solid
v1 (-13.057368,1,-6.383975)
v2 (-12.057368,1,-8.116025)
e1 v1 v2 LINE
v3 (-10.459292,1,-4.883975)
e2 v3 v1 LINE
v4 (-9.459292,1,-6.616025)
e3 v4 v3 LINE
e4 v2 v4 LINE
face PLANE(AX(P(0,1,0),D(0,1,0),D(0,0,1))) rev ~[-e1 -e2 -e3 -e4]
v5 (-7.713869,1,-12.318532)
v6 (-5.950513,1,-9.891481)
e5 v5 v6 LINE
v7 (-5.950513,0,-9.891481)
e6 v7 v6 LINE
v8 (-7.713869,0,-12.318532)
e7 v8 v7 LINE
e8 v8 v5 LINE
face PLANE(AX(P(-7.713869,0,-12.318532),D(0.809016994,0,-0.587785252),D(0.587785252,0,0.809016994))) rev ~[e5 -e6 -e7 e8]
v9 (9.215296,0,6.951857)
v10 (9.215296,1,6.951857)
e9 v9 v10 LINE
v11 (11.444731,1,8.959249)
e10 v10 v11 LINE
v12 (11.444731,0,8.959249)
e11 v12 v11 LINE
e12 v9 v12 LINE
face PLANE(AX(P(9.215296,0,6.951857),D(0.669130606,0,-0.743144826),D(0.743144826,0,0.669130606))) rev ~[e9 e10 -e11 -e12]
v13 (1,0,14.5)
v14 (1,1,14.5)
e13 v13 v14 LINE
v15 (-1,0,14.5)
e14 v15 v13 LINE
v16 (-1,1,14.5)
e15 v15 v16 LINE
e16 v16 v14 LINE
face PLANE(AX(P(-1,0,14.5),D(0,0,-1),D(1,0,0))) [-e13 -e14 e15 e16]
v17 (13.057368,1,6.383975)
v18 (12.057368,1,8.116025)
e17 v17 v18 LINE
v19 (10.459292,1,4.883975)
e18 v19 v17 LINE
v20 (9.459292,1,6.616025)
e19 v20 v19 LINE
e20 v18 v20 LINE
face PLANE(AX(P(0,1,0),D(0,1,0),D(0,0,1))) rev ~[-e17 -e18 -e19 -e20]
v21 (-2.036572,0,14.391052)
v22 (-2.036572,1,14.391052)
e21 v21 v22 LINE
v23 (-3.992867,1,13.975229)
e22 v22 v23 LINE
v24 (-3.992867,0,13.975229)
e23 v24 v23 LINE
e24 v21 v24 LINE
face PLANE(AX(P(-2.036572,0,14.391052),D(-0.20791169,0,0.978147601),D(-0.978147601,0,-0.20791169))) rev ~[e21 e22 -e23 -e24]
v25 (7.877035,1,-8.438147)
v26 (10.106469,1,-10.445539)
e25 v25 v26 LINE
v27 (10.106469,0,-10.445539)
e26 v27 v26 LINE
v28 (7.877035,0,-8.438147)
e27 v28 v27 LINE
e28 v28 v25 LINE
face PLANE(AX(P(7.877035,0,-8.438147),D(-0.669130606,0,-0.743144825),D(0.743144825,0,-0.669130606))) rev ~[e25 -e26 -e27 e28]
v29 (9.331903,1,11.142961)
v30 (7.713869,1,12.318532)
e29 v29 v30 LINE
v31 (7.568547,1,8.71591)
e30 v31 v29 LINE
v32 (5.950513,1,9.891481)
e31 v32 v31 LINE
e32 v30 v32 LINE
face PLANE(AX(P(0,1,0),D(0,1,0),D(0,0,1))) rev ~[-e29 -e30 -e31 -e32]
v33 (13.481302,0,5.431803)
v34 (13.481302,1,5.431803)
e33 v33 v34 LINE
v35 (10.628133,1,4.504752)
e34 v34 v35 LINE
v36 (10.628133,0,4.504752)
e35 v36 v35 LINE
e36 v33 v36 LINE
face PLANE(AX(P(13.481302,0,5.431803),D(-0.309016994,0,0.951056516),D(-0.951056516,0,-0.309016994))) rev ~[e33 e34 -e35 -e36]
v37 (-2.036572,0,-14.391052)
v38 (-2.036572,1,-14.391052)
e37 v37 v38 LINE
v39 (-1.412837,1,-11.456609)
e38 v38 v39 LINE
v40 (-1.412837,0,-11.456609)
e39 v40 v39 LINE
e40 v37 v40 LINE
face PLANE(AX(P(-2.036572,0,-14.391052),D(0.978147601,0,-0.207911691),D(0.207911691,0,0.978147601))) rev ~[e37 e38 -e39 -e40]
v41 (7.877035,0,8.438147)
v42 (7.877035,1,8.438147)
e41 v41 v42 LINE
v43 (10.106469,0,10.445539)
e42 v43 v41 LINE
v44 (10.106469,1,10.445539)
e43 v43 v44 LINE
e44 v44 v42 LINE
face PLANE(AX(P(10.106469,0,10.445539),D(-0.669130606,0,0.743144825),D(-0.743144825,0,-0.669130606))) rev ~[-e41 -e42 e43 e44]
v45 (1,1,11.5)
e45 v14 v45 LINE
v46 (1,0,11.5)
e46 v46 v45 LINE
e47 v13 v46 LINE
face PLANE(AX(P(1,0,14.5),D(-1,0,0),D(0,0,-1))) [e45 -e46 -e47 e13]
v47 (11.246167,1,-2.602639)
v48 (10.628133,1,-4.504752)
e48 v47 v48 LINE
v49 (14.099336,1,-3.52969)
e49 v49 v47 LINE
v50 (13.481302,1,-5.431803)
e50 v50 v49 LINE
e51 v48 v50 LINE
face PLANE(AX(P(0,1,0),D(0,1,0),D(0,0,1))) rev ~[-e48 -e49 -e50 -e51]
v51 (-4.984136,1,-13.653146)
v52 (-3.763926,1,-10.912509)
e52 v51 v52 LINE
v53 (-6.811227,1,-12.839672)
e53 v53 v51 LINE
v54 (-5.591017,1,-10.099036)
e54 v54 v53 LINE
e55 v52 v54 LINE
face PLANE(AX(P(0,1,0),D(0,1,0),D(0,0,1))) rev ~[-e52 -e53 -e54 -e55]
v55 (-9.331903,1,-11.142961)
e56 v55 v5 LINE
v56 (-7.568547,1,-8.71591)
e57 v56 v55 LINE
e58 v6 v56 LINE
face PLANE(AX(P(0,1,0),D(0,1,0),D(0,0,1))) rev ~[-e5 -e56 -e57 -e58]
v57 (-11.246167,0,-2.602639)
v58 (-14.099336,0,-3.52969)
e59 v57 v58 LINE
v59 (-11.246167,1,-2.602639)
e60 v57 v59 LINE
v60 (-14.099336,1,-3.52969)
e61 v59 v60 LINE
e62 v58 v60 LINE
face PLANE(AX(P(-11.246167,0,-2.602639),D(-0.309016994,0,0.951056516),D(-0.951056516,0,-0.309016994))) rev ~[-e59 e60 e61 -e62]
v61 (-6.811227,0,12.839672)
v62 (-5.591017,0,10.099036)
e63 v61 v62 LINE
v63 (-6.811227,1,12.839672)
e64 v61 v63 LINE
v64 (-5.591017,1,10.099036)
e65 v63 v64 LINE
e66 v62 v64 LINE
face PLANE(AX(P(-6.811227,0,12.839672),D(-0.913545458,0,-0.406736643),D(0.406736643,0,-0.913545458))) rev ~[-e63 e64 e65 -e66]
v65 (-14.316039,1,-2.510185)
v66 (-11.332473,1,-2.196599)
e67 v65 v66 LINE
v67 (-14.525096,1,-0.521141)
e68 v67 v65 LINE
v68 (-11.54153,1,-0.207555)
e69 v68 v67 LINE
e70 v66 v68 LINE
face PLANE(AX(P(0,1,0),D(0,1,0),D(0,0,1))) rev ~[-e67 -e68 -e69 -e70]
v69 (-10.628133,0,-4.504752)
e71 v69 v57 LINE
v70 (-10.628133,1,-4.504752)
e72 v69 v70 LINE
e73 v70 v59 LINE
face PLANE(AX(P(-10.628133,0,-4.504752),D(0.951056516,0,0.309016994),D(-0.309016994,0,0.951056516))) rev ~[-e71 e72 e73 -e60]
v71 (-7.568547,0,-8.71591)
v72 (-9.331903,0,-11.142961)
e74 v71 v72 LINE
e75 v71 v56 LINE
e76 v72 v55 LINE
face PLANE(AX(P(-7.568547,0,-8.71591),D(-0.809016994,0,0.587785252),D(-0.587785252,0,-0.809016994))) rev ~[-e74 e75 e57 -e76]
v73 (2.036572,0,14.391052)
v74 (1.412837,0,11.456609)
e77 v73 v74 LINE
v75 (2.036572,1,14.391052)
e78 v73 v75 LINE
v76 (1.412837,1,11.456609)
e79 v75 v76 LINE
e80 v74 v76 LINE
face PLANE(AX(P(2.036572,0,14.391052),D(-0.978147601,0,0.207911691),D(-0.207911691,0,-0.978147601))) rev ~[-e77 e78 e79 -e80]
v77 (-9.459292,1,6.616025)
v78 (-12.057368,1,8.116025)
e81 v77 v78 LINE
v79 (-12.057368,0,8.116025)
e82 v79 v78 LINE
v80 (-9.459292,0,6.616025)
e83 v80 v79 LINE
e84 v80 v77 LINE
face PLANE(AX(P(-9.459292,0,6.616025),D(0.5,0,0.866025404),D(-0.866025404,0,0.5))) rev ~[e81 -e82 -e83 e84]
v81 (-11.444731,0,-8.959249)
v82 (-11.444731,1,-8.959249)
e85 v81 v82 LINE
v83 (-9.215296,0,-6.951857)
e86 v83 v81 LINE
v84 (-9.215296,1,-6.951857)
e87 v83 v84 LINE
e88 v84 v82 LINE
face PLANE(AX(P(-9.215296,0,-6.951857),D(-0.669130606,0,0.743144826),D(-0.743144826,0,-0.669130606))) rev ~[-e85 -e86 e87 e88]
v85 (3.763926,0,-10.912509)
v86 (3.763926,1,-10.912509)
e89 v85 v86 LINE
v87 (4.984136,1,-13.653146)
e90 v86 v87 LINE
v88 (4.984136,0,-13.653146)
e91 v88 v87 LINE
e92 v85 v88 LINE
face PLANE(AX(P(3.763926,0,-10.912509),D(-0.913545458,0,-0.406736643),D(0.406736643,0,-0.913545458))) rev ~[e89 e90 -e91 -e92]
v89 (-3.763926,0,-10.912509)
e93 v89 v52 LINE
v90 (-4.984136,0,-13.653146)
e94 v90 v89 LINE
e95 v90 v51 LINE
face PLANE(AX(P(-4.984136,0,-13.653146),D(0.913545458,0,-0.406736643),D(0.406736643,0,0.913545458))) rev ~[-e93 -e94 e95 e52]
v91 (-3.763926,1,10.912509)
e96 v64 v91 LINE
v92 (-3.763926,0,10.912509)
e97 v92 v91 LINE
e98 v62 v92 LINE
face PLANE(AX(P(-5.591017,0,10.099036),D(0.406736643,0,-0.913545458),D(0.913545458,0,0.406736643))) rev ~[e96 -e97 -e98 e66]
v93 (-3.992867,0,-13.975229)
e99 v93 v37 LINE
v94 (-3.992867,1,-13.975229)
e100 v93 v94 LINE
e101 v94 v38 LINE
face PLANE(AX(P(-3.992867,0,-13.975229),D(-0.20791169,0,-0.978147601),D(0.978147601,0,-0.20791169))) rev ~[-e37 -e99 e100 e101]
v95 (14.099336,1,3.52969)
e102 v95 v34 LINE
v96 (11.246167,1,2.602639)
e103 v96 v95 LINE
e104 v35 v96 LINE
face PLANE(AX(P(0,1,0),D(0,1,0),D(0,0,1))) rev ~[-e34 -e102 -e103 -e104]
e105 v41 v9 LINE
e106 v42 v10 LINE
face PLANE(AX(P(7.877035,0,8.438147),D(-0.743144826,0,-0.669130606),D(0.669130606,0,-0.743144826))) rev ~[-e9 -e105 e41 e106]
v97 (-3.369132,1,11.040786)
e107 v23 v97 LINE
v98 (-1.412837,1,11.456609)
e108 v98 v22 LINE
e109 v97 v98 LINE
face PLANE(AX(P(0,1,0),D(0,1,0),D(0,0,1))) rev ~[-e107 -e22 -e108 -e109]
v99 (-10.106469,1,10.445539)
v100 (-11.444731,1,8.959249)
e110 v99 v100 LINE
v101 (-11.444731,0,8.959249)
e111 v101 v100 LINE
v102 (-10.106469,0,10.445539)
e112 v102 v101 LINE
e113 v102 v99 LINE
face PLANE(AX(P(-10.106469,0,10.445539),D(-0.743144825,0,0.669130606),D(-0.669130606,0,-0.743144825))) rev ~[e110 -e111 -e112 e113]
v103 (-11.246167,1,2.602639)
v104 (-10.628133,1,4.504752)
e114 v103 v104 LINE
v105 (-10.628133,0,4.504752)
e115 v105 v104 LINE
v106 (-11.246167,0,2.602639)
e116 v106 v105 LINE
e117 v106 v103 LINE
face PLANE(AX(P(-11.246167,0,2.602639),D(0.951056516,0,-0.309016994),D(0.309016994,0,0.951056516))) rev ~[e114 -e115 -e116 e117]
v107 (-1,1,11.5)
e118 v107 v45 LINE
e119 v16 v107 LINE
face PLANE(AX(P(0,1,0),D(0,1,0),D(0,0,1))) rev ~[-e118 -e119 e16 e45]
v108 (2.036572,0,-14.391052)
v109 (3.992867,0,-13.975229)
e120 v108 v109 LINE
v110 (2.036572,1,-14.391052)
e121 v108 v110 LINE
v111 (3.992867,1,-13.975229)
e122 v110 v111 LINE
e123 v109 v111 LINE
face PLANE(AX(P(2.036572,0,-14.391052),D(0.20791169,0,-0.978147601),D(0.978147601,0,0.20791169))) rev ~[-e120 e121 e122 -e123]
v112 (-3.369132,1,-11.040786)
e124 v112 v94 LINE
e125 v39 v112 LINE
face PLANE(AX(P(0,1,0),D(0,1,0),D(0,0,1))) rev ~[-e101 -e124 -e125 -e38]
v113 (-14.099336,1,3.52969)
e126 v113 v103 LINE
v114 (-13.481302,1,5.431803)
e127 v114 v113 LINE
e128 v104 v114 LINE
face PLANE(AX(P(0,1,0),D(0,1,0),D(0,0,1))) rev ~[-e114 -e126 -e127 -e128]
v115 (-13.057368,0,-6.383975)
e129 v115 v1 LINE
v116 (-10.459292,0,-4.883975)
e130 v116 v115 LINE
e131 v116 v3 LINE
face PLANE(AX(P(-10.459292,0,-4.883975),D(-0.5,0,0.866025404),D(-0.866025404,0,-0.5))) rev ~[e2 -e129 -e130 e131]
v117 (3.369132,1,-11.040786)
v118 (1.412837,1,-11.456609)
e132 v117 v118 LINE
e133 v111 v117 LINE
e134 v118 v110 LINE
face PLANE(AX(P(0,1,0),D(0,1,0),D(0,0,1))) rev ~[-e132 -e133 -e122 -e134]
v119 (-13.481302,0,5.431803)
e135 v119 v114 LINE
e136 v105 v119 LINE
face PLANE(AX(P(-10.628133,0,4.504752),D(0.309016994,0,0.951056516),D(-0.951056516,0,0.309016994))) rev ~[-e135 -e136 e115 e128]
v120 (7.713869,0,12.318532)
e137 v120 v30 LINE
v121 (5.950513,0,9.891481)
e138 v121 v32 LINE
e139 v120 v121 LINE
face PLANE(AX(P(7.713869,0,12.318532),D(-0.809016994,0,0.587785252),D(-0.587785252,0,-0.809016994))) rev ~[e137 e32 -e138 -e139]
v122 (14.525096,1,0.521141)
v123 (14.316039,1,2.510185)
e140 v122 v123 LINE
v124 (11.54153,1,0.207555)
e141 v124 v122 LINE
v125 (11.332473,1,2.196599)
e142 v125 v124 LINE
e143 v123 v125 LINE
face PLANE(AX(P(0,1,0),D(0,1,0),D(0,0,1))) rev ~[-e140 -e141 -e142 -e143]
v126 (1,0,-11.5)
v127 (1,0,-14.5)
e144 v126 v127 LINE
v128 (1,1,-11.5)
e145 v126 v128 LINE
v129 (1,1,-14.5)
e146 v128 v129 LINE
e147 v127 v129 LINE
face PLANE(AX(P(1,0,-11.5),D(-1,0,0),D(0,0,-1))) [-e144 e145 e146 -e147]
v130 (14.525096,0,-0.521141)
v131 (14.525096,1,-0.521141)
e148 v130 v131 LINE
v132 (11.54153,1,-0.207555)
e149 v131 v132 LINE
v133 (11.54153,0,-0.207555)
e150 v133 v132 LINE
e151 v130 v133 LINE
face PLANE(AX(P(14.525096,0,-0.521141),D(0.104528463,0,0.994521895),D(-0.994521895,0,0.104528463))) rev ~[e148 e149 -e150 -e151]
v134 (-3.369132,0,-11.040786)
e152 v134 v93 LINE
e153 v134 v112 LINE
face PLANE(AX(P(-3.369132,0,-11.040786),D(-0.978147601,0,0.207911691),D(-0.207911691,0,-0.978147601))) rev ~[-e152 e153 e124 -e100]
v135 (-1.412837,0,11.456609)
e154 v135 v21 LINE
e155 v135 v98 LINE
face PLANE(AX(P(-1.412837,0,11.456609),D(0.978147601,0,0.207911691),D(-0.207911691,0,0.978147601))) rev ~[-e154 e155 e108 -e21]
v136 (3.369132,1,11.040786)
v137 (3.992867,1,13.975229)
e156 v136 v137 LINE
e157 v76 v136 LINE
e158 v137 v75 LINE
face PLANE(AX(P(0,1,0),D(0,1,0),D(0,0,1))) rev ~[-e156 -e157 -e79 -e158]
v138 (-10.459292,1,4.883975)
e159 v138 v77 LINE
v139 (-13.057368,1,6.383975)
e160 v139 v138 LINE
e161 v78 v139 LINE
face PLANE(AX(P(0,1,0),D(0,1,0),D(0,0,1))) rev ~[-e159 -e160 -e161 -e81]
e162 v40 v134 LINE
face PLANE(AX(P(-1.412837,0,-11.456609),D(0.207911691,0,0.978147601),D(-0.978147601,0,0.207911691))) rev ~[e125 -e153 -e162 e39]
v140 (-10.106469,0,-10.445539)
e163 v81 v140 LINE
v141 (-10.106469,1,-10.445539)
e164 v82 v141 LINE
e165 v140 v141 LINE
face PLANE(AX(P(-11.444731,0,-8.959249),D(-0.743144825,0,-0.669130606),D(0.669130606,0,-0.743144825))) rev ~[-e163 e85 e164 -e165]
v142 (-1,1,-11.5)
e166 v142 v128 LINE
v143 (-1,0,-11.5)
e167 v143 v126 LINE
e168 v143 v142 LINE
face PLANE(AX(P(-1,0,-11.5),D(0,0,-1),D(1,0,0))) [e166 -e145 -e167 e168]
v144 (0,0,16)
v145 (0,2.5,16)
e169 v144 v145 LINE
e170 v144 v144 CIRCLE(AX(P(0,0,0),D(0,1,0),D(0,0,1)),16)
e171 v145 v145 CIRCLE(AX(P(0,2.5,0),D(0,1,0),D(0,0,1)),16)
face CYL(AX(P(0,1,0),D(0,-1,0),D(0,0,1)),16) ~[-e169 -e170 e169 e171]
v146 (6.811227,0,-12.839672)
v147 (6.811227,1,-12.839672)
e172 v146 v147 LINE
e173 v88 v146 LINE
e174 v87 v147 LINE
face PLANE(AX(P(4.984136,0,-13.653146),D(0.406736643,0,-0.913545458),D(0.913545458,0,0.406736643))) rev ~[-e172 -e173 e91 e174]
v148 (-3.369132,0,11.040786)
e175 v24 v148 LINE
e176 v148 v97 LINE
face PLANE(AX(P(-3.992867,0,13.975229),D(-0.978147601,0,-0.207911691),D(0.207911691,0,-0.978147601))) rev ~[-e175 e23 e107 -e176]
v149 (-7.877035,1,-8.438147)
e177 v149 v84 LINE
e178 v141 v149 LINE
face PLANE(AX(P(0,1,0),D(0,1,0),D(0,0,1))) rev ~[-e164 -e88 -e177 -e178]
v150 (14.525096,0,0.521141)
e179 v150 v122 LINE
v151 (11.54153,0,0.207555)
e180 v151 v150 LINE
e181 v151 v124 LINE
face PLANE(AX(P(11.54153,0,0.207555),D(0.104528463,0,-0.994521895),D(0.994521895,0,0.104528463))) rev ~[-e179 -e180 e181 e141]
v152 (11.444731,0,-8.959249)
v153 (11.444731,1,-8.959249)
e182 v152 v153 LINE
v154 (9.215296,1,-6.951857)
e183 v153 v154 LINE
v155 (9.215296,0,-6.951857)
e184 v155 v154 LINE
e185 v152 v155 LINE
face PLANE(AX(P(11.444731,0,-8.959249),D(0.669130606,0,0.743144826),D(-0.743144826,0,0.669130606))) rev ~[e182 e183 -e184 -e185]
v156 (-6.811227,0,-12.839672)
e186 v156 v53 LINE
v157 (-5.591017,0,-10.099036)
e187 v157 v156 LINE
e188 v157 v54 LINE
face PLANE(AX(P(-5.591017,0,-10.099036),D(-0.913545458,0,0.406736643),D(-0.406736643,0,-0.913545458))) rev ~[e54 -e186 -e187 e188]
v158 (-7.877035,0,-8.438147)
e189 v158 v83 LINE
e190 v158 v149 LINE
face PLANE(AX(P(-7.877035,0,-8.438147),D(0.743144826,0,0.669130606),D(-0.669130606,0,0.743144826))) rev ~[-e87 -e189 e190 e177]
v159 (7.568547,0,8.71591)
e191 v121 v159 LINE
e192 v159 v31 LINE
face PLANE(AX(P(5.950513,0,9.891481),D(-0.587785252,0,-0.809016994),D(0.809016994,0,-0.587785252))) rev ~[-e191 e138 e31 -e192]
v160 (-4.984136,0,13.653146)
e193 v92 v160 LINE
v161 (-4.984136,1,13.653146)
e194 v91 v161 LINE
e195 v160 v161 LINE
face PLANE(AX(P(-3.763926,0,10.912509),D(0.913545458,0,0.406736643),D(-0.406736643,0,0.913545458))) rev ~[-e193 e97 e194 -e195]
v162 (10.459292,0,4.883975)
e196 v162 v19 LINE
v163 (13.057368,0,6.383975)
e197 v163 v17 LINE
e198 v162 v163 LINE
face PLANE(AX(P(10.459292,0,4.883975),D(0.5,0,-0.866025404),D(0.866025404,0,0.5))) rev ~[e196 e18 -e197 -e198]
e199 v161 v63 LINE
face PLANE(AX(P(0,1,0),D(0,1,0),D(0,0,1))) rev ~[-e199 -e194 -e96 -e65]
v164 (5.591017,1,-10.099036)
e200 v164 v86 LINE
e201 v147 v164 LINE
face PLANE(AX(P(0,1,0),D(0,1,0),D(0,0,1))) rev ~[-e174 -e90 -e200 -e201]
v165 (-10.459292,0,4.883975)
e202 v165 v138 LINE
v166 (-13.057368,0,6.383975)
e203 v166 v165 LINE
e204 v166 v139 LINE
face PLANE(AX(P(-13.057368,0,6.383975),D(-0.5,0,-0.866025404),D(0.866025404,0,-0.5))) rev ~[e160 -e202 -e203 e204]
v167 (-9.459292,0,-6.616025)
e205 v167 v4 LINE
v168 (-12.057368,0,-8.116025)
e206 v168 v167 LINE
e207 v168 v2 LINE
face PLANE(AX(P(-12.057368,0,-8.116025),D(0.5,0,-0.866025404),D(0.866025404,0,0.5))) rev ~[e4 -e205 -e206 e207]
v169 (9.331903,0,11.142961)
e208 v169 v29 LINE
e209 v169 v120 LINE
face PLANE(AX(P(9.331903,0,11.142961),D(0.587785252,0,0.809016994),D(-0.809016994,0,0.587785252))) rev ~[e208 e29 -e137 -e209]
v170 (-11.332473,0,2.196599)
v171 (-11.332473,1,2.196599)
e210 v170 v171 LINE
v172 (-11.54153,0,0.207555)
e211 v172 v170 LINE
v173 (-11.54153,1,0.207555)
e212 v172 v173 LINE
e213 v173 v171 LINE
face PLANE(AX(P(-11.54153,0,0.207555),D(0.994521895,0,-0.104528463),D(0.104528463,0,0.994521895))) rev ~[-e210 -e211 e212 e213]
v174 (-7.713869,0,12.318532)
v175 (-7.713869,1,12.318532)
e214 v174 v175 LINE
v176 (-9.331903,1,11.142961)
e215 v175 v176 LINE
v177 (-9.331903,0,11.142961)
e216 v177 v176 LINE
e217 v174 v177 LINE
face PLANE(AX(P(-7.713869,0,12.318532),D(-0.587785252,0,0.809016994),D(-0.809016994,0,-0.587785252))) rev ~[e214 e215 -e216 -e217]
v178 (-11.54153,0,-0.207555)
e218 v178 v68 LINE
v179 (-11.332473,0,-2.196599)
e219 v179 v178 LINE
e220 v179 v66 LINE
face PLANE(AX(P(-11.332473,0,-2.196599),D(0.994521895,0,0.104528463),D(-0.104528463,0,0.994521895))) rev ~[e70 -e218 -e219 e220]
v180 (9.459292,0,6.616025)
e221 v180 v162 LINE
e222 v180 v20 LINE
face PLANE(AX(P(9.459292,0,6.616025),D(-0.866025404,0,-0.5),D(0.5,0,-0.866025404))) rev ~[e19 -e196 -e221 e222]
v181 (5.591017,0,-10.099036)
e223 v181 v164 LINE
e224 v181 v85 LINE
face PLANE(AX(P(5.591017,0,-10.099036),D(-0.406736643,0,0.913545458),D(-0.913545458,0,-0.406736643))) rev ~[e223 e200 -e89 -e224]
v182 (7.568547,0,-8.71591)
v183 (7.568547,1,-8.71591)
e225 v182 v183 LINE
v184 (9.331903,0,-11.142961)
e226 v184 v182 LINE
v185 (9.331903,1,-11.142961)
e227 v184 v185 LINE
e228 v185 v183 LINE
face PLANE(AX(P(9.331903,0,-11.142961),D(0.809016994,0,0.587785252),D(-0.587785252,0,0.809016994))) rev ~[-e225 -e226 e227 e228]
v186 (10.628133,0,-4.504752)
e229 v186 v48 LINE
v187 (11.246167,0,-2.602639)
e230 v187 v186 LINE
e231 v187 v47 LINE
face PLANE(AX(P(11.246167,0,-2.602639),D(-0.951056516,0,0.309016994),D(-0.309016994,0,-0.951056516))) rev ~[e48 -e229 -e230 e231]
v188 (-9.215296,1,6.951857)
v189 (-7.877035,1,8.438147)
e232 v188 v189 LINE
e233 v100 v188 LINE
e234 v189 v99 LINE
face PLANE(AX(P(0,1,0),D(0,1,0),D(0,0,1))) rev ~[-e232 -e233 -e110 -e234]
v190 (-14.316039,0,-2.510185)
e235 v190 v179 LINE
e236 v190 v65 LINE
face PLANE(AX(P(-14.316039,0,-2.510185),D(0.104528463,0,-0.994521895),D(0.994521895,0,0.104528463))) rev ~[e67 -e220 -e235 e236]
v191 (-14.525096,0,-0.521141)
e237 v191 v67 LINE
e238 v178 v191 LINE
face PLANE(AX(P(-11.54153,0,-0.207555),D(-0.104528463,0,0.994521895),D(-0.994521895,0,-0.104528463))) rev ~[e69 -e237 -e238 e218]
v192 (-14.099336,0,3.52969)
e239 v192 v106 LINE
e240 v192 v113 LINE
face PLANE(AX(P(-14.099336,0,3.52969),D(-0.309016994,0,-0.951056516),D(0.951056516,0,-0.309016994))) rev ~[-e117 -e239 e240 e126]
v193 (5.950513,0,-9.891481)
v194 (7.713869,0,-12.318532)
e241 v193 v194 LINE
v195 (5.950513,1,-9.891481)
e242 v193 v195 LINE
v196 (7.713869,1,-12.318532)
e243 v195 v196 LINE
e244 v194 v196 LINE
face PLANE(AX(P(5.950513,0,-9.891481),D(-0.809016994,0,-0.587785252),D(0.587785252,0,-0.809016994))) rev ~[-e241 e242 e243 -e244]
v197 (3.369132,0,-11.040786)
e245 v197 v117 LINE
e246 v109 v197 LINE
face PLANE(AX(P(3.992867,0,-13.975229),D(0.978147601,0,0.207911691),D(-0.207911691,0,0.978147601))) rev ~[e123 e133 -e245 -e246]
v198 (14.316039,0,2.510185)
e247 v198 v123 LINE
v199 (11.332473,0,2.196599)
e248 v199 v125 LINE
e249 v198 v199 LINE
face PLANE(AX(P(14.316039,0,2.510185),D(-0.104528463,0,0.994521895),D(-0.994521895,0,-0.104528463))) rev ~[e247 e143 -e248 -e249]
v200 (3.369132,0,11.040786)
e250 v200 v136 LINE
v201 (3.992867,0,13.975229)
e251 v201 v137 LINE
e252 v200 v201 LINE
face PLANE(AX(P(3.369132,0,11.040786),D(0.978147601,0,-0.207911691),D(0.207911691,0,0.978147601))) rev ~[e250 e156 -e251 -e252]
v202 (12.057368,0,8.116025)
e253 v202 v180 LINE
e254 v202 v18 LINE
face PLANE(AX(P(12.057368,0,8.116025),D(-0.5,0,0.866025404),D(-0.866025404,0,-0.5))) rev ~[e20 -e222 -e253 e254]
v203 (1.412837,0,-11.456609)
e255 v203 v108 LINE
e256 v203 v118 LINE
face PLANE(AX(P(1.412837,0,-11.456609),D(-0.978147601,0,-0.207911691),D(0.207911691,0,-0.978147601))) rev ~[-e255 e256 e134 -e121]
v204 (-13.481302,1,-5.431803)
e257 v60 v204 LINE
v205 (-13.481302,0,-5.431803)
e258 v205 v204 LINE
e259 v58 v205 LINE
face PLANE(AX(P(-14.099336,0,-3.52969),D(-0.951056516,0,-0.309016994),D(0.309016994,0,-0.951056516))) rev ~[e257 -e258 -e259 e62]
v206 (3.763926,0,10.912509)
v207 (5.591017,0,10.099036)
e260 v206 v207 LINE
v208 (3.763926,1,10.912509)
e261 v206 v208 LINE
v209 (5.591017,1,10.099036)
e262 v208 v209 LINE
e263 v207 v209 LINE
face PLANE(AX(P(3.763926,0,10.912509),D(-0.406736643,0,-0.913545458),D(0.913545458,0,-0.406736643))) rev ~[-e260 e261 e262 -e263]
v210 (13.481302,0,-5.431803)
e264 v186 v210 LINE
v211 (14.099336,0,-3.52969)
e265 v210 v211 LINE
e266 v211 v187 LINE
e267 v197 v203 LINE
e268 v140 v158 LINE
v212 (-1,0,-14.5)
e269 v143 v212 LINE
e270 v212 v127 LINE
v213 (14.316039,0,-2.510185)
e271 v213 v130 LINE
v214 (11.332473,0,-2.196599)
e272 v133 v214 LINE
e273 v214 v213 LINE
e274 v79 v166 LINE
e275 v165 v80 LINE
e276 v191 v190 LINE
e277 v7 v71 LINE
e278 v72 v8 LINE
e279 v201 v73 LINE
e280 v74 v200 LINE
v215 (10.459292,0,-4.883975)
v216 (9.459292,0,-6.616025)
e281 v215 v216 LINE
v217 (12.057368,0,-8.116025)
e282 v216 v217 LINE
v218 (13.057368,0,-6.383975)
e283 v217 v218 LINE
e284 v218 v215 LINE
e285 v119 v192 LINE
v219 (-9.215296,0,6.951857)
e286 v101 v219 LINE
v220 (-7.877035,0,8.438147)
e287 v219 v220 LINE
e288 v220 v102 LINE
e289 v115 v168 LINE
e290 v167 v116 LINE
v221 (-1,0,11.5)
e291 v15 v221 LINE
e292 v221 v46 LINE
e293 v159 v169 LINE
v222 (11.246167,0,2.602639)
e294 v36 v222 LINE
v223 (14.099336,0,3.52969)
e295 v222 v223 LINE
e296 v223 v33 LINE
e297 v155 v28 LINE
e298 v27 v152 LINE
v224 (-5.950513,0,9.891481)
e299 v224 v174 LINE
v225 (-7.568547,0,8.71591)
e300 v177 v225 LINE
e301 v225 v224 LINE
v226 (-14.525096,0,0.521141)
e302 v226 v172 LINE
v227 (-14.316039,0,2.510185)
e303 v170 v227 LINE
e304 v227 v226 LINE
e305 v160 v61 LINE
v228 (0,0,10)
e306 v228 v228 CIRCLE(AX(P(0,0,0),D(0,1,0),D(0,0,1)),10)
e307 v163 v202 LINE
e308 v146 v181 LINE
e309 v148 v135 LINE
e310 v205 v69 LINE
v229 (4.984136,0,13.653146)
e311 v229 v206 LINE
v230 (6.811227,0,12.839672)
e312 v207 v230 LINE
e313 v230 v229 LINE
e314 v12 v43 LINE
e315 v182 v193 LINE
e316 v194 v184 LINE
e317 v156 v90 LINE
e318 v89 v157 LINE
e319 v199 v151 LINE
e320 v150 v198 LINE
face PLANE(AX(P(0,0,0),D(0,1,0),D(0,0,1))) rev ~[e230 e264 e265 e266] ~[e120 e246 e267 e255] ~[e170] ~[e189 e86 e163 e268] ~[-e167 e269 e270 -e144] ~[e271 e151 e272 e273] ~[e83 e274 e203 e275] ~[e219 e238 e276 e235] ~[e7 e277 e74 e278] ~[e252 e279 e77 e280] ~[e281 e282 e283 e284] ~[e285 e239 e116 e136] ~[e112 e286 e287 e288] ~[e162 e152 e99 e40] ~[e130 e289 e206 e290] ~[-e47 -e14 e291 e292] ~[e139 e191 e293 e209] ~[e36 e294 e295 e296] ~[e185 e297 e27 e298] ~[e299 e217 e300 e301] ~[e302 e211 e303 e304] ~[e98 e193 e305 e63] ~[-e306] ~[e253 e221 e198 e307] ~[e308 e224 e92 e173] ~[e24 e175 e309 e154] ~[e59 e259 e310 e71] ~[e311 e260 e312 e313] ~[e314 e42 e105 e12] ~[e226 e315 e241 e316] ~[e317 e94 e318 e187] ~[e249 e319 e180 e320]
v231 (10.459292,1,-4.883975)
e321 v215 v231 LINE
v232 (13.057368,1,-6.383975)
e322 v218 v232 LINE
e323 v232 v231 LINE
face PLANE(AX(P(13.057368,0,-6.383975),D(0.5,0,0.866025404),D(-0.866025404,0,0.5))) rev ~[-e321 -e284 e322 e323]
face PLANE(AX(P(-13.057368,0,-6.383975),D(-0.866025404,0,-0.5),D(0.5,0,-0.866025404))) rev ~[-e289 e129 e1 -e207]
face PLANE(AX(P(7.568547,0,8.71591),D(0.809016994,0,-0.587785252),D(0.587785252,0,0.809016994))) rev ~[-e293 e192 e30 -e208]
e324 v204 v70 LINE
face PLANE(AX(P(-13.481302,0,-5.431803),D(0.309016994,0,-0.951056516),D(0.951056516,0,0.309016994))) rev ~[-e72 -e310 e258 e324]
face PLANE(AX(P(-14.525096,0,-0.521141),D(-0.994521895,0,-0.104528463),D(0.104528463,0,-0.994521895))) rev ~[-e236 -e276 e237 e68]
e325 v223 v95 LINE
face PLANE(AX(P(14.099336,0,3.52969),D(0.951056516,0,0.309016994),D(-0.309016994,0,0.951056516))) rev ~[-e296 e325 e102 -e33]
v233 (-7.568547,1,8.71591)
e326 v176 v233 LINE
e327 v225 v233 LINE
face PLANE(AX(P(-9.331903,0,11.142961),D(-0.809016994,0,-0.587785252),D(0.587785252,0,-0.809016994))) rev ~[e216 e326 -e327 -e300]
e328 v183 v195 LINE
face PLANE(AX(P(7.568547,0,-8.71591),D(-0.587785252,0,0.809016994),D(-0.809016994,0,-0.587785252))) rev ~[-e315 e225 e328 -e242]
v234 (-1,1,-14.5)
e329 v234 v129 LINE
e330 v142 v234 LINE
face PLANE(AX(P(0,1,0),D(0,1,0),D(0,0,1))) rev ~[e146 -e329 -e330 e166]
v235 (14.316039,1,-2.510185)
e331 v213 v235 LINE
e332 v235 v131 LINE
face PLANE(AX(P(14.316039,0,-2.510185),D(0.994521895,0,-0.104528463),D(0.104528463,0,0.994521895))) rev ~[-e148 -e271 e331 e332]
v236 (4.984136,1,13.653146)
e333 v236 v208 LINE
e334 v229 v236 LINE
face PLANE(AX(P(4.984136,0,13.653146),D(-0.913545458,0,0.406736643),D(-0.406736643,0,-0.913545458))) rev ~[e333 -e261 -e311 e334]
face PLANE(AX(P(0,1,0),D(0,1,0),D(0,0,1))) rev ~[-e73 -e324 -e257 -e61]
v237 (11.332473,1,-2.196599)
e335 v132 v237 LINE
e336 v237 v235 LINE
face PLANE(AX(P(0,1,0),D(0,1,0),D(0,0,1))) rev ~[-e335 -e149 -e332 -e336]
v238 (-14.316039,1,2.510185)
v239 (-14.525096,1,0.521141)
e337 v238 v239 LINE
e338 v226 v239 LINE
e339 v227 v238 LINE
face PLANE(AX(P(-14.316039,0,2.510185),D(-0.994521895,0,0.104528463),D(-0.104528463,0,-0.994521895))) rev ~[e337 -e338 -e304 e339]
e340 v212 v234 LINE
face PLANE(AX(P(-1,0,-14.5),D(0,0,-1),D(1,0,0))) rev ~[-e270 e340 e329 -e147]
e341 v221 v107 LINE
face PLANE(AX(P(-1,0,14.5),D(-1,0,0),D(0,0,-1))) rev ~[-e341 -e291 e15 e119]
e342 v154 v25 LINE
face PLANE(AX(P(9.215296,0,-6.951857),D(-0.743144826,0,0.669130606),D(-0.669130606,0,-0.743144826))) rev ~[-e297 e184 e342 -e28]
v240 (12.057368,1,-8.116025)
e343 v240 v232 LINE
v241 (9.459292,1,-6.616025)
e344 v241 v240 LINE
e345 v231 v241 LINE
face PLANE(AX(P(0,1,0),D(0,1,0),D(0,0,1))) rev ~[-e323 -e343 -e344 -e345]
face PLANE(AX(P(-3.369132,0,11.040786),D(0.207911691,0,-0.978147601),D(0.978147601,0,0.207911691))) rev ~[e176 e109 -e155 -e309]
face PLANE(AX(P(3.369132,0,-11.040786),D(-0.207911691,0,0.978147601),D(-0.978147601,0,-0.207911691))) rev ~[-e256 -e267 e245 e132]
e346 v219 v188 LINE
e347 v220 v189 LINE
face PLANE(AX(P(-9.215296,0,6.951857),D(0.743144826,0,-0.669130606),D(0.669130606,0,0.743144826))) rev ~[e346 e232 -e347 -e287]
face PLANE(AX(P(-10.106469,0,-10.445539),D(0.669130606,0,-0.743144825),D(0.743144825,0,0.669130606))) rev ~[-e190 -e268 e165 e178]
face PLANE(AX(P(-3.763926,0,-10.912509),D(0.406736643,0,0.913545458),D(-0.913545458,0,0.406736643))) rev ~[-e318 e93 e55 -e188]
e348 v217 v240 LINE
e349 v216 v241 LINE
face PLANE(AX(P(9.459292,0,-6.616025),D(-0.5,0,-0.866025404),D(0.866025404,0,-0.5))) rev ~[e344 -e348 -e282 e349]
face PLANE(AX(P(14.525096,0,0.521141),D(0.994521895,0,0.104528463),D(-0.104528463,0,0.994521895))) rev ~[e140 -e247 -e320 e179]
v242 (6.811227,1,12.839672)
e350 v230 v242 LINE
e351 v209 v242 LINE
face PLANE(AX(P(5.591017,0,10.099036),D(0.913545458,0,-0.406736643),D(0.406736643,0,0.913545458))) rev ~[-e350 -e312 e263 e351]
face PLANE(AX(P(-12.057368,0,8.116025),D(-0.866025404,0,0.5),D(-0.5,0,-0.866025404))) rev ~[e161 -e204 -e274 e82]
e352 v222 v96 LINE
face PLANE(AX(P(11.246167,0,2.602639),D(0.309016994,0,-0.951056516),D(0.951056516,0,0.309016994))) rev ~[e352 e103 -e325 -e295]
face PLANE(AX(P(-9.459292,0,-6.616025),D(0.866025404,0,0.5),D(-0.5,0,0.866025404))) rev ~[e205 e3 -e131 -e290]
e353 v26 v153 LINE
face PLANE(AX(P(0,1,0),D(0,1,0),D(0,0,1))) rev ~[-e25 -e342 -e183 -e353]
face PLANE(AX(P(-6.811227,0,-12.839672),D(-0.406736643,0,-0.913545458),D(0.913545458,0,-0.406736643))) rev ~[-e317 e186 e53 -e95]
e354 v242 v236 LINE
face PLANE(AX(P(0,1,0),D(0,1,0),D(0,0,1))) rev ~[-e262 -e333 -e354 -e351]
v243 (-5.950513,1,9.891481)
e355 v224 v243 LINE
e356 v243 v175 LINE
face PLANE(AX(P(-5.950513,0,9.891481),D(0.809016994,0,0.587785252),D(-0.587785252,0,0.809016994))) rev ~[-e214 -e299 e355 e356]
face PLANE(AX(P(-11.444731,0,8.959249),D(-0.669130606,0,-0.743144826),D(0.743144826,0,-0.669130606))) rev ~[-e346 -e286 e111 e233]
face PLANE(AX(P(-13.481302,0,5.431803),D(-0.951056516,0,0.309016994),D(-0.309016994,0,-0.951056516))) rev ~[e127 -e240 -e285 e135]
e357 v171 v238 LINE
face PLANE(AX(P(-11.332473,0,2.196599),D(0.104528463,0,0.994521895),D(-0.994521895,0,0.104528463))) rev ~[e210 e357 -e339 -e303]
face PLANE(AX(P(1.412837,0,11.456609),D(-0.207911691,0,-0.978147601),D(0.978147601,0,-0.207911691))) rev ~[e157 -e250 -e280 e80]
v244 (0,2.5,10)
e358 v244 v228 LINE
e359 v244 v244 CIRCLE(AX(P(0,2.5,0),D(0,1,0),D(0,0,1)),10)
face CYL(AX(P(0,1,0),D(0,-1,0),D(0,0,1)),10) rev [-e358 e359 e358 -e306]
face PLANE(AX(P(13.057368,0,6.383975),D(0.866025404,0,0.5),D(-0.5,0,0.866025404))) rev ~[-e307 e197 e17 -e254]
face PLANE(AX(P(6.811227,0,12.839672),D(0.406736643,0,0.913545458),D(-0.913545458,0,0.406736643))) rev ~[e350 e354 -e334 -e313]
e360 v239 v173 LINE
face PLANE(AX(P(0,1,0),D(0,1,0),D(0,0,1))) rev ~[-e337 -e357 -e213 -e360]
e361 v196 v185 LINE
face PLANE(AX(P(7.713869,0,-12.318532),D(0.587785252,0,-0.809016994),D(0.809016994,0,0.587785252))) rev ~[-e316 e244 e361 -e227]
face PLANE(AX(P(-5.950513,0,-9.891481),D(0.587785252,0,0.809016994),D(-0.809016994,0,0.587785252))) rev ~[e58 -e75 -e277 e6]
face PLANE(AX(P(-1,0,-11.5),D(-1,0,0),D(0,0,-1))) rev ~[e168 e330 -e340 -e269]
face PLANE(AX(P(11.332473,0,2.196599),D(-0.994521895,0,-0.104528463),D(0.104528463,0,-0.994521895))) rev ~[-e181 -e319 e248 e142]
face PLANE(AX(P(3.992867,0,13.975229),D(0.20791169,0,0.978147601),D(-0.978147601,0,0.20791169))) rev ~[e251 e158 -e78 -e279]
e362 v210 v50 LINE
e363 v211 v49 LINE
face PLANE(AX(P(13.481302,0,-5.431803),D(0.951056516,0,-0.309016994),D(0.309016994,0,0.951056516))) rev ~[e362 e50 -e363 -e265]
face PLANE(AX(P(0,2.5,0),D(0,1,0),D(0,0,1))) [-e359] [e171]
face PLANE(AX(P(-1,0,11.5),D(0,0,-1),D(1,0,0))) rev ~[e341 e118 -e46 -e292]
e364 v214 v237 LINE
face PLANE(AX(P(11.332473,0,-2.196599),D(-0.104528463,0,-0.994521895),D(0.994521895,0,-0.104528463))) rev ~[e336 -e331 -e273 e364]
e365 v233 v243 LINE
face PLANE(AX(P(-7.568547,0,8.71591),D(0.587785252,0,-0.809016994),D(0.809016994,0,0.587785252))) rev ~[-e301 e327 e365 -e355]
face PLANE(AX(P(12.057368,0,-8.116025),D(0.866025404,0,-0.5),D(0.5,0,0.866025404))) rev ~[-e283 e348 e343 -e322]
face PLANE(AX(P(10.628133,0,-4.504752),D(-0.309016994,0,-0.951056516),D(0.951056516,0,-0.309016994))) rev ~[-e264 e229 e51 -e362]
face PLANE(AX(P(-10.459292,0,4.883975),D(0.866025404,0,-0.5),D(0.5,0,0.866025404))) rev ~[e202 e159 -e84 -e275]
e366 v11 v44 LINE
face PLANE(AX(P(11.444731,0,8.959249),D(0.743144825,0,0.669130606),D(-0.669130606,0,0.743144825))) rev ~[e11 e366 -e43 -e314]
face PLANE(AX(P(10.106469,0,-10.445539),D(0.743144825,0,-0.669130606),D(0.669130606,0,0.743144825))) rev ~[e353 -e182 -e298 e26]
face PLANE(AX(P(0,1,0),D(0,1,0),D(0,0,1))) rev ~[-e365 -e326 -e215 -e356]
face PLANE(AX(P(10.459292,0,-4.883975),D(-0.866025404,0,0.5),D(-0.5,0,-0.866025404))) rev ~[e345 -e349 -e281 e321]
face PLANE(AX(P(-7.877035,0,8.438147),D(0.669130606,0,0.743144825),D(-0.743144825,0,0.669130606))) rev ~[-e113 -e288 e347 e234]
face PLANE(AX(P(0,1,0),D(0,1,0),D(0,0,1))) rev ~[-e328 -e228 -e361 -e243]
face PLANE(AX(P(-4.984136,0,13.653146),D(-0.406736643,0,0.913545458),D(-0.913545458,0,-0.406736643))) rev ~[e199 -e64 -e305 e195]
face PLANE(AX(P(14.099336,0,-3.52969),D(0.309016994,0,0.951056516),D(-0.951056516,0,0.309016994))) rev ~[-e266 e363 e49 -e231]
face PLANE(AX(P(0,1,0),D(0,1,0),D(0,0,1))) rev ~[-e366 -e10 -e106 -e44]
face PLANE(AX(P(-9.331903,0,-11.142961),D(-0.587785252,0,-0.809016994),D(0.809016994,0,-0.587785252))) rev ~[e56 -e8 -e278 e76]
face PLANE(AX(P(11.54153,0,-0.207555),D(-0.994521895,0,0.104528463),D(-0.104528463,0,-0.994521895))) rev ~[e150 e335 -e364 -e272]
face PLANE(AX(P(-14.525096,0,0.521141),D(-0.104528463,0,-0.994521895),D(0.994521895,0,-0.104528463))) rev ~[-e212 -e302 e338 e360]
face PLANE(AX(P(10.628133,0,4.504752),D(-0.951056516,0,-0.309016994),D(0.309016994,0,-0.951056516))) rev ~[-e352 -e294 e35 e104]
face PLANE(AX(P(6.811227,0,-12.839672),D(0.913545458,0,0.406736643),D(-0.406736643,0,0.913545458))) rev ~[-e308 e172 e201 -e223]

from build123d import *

# Parameters (mm, degrees)
SKETCH1_R           = 16
SKETCH1_W           = 2
SKETCH1_H           = 3
SKETCH1_R_2         = 10
BOSS_EXTRUDE3_DEPTH = 1
SKETCH2_R           = 16
SKETCH2_R_2         = 10
BOSS_EXTRUDE4_DEPTH = 1.5


with BuildPart() as part:
    # Sketch1 → Boss-Extrude3 (new body)
    with BuildSketch(Plane(origin=(0, 0, 0), x_dir=(1, 0, 0), z_dir=(0, 1, 0))):
        with Locations(Location((0, 0, 0), (0, 0, 270))):
            Circle(SKETCH1_R)
        Polygon((3.992867118, 13.97522852), (3.369132045, 11.040785718), (1.412836844, 11.456609099), (2.036571916, 14.391051901), align=None, mode=Mode.SUBTRACT)
        with Locations((0, 13)):
            Rectangle(SKETCH1_W, SKETCH1_H, mode=Mode.SUBTRACT)
        Polygon((6.811226782, 12.839672493), (5.591016853, 10.09903612), (3.763925938, 10.912509406), (4.984135867, 13.653145779), align=None, mode=Mode.SUBTRACT)
        Polygon((-2.036571916, 14.391051901), (-1.412836844, 11.456609099), (-3.369132045, 11.040785718), (-3.992867118, 13.97522852), align=None, mode=Mode.SUBTRACT)
        Polygon((9.331903153, 11.142961166), (7.568547396, 8.715910183), (5.950513407, 9.891480688), (7.713869164, 12.318531671), align=None, mode=Mode.SUBTRACT)
        Polygon((-4.984135867, 13.653145779), (-3.763925938, 10.912509406), (-5.591016853, 10.09903612), (-6.811226782, 12.839672493), align=None, mode=Mode.SUBTRACT)
        Polygon((-9.331903153, -11.142961166), (-7.568547396, -8.715910183), (-5.950513407, -9.891480688), (-7.713869164, -12.318531671), align=None, mode=Mode.SUBTRACT)
        Polygon((-11.444730576, -8.959248967), (-9.215296099, -6.951857148), (-7.877034887, -8.438146799), (-10.106469363, -10.445538618), align=None, mode=Mode.SUBTRACT)
        Polygon((-6.811226782, -12.839672493), (-5.591016853, -10.09903612), (-3.763925938, -10.912509406), (-4.984135867, -13.653145779), align=None, mode=Mode.SUBTRACT)
        with Locations((0, -13)):
            Rectangle(SKETCH1_W, SKETCH1_H, mode=Mode.SUBTRACT)
        Polygon((-1.412836844, -11.456609099), (-2.036571916, -14.391051901), (-3.992867118, -13.97522852), (-3.369132045, -11.040785718), align=None, mode=Mode.SUBTRACT)
        Polygon((-13.057368355, -6.383974596), (-10.459292144, -4.883974596), (-9.459292144, -6.616025404), (-12.057368355, -8.116025404), align=None, mode=Mode.SUBTRACT)
        Polygon((-14.099336481, -3.529689902), (-11.246166932, -2.602638919), (-10.628132943, -4.504751952), (-13.481302492, -5.431802935), align=None, mode=Mode.SUBTRACT)
        Polygon((-14.525095946, -0.521140822), (-11.54153026, -0.207555432), (-11.332473333, -2.196599223), (-14.31603902, -2.510184613), align=None, mode=Mode.SUBTRACT)
        Polygon((2.036571916, -14.391051901), (1.412836844, -11.456609099), (3.369132045, -11.040785718), (3.992867118, -13.97522852), align=None, mode=Mode.SUBTRACT)
        Polygon((4.984135867, -13.653145779), (3.763925938, -10.912509406), (5.591016853, -10.09903612), (6.811226782, -12.839672493), align=None, mode=Mode.SUBTRACT)
        Polygon((7.713869164, -12.318531671), (5.950513407, -9.891480688), (7.568547396, -8.715910183), (9.331903153, -11.142961166), align=None, mode=Mode.SUBTRACT)
        Polygon((10.106469363, -10.445538618), (7.877034887, -8.438146799), (9.215296099, -6.951857148), (11.444730576, -8.959248967), align=None, mode=Mode.SUBTRACT)
        Polygon((12.057368355, -8.116025404), (9.459292144, -6.616025404), (10.459292144, -4.883974596), (13.057368355, -6.383974596), align=None, mode=Mode.SUBTRACT)
        Polygon((13.481302492, -5.431802935), (10.628132943, -4.504751952), (11.246166932, -2.602638919), (14.099336481, -3.529689902), align=None, mode=Mode.SUBTRACT)
        Polygon((14.31603902, -2.510184613), (11.332473333, -2.196599223), (11.54153026, -0.207555432), (14.525095946, -0.521140822), align=None, mode=Mode.SUBTRACT)
        Polygon((-14.31603902, 2.510184613), (-11.332473333, 2.196599223), (-11.54153026, 0.207555432), (-14.525095946, 0.521140822), align=None, mode=Mode.SUBTRACT)
        Polygon((-13.481302492, 5.431802935), (-10.628132943, 4.504751952), (-11.246166932, 2.602638919), (-14.099336481, 3.529689902), align=None, mode=Mode.SUBTRACT)
        with Locations(Location((0, 0, 0), (0, 0, 270))):
            Circle(SKETCH1_R_2, mode=Mode.SUBTRACT)
        Polygon((-12.057368355, 8.116025404), (-9.459292144, 6.616025404), (-10.459292144, 4.883974596), (-13.057368355, 6.383974596), align=None, mode=Mode.SUBTRACT)
        Polygon((-10.106469363, 10.445538618), (-7.877034887, 8.438146799), (-9.215296099, 6.951857148), (-11.444730576, 8.959248967), align=None, mode=Mode.SUBTRACT)
        Polygon((-7.713869164, 12.318531671), (-5.950513407, 9.891480688), (-7.568547396, 8.715910183), (-9.331903153, 11.142961166), align=None, mode=Mode.SUBTRACT)
        Polygon((14.525095946, 0.521140822), (11.54153026, 0.207555432), (11.332473333, 2.196599223), (14.31603902, 2.510184613), align=None, mode=Mode.SUBTRACT)
        Polygon((14.099336481, 3.529689902), (11.246166932, 2.602638919), (10.628132943, 4.504751952), (13.481302492, 5.431802935), align=None, mode=Mode.SUBTRACT)
        Polygon((7.877034887, 8.438146799), (10.106469363, 10.445538618), (11.444730576, 8.959248967), (9.215296099, 6.951857148), align=None, mode=Mode.SUBTRACT)
        Polygon((13.057368355, 6.383974596), (10.459292144, 4.883974596), (9.459292144, 6.616025404), (12.057368355, 8.116025404), align=None, mode=Mode.SUBTRACT)
    extrude(amount=BOSS_EXTRUDE3_DEPTH)

    # Sketch2 → Boss-Extrude4 (add)
    with BuildSketch(Plane(origin=(0, 1, 0), x_dir=(1, 0, 0), z_dir=(0, 1, 0))):
        with Locations(Location((0, 0, 0), (0, 0, 270))):
            Circle(SKETCH2_R)
        with Locations(Location((0, 0, 0), (0, 0, 270))):
            Circle(SKETCH2_R_2, mode=Mode.SUBTRACT)
    extrude(amount=BOSS_EXTRUDE4_DEPTH)


solid = part.part
